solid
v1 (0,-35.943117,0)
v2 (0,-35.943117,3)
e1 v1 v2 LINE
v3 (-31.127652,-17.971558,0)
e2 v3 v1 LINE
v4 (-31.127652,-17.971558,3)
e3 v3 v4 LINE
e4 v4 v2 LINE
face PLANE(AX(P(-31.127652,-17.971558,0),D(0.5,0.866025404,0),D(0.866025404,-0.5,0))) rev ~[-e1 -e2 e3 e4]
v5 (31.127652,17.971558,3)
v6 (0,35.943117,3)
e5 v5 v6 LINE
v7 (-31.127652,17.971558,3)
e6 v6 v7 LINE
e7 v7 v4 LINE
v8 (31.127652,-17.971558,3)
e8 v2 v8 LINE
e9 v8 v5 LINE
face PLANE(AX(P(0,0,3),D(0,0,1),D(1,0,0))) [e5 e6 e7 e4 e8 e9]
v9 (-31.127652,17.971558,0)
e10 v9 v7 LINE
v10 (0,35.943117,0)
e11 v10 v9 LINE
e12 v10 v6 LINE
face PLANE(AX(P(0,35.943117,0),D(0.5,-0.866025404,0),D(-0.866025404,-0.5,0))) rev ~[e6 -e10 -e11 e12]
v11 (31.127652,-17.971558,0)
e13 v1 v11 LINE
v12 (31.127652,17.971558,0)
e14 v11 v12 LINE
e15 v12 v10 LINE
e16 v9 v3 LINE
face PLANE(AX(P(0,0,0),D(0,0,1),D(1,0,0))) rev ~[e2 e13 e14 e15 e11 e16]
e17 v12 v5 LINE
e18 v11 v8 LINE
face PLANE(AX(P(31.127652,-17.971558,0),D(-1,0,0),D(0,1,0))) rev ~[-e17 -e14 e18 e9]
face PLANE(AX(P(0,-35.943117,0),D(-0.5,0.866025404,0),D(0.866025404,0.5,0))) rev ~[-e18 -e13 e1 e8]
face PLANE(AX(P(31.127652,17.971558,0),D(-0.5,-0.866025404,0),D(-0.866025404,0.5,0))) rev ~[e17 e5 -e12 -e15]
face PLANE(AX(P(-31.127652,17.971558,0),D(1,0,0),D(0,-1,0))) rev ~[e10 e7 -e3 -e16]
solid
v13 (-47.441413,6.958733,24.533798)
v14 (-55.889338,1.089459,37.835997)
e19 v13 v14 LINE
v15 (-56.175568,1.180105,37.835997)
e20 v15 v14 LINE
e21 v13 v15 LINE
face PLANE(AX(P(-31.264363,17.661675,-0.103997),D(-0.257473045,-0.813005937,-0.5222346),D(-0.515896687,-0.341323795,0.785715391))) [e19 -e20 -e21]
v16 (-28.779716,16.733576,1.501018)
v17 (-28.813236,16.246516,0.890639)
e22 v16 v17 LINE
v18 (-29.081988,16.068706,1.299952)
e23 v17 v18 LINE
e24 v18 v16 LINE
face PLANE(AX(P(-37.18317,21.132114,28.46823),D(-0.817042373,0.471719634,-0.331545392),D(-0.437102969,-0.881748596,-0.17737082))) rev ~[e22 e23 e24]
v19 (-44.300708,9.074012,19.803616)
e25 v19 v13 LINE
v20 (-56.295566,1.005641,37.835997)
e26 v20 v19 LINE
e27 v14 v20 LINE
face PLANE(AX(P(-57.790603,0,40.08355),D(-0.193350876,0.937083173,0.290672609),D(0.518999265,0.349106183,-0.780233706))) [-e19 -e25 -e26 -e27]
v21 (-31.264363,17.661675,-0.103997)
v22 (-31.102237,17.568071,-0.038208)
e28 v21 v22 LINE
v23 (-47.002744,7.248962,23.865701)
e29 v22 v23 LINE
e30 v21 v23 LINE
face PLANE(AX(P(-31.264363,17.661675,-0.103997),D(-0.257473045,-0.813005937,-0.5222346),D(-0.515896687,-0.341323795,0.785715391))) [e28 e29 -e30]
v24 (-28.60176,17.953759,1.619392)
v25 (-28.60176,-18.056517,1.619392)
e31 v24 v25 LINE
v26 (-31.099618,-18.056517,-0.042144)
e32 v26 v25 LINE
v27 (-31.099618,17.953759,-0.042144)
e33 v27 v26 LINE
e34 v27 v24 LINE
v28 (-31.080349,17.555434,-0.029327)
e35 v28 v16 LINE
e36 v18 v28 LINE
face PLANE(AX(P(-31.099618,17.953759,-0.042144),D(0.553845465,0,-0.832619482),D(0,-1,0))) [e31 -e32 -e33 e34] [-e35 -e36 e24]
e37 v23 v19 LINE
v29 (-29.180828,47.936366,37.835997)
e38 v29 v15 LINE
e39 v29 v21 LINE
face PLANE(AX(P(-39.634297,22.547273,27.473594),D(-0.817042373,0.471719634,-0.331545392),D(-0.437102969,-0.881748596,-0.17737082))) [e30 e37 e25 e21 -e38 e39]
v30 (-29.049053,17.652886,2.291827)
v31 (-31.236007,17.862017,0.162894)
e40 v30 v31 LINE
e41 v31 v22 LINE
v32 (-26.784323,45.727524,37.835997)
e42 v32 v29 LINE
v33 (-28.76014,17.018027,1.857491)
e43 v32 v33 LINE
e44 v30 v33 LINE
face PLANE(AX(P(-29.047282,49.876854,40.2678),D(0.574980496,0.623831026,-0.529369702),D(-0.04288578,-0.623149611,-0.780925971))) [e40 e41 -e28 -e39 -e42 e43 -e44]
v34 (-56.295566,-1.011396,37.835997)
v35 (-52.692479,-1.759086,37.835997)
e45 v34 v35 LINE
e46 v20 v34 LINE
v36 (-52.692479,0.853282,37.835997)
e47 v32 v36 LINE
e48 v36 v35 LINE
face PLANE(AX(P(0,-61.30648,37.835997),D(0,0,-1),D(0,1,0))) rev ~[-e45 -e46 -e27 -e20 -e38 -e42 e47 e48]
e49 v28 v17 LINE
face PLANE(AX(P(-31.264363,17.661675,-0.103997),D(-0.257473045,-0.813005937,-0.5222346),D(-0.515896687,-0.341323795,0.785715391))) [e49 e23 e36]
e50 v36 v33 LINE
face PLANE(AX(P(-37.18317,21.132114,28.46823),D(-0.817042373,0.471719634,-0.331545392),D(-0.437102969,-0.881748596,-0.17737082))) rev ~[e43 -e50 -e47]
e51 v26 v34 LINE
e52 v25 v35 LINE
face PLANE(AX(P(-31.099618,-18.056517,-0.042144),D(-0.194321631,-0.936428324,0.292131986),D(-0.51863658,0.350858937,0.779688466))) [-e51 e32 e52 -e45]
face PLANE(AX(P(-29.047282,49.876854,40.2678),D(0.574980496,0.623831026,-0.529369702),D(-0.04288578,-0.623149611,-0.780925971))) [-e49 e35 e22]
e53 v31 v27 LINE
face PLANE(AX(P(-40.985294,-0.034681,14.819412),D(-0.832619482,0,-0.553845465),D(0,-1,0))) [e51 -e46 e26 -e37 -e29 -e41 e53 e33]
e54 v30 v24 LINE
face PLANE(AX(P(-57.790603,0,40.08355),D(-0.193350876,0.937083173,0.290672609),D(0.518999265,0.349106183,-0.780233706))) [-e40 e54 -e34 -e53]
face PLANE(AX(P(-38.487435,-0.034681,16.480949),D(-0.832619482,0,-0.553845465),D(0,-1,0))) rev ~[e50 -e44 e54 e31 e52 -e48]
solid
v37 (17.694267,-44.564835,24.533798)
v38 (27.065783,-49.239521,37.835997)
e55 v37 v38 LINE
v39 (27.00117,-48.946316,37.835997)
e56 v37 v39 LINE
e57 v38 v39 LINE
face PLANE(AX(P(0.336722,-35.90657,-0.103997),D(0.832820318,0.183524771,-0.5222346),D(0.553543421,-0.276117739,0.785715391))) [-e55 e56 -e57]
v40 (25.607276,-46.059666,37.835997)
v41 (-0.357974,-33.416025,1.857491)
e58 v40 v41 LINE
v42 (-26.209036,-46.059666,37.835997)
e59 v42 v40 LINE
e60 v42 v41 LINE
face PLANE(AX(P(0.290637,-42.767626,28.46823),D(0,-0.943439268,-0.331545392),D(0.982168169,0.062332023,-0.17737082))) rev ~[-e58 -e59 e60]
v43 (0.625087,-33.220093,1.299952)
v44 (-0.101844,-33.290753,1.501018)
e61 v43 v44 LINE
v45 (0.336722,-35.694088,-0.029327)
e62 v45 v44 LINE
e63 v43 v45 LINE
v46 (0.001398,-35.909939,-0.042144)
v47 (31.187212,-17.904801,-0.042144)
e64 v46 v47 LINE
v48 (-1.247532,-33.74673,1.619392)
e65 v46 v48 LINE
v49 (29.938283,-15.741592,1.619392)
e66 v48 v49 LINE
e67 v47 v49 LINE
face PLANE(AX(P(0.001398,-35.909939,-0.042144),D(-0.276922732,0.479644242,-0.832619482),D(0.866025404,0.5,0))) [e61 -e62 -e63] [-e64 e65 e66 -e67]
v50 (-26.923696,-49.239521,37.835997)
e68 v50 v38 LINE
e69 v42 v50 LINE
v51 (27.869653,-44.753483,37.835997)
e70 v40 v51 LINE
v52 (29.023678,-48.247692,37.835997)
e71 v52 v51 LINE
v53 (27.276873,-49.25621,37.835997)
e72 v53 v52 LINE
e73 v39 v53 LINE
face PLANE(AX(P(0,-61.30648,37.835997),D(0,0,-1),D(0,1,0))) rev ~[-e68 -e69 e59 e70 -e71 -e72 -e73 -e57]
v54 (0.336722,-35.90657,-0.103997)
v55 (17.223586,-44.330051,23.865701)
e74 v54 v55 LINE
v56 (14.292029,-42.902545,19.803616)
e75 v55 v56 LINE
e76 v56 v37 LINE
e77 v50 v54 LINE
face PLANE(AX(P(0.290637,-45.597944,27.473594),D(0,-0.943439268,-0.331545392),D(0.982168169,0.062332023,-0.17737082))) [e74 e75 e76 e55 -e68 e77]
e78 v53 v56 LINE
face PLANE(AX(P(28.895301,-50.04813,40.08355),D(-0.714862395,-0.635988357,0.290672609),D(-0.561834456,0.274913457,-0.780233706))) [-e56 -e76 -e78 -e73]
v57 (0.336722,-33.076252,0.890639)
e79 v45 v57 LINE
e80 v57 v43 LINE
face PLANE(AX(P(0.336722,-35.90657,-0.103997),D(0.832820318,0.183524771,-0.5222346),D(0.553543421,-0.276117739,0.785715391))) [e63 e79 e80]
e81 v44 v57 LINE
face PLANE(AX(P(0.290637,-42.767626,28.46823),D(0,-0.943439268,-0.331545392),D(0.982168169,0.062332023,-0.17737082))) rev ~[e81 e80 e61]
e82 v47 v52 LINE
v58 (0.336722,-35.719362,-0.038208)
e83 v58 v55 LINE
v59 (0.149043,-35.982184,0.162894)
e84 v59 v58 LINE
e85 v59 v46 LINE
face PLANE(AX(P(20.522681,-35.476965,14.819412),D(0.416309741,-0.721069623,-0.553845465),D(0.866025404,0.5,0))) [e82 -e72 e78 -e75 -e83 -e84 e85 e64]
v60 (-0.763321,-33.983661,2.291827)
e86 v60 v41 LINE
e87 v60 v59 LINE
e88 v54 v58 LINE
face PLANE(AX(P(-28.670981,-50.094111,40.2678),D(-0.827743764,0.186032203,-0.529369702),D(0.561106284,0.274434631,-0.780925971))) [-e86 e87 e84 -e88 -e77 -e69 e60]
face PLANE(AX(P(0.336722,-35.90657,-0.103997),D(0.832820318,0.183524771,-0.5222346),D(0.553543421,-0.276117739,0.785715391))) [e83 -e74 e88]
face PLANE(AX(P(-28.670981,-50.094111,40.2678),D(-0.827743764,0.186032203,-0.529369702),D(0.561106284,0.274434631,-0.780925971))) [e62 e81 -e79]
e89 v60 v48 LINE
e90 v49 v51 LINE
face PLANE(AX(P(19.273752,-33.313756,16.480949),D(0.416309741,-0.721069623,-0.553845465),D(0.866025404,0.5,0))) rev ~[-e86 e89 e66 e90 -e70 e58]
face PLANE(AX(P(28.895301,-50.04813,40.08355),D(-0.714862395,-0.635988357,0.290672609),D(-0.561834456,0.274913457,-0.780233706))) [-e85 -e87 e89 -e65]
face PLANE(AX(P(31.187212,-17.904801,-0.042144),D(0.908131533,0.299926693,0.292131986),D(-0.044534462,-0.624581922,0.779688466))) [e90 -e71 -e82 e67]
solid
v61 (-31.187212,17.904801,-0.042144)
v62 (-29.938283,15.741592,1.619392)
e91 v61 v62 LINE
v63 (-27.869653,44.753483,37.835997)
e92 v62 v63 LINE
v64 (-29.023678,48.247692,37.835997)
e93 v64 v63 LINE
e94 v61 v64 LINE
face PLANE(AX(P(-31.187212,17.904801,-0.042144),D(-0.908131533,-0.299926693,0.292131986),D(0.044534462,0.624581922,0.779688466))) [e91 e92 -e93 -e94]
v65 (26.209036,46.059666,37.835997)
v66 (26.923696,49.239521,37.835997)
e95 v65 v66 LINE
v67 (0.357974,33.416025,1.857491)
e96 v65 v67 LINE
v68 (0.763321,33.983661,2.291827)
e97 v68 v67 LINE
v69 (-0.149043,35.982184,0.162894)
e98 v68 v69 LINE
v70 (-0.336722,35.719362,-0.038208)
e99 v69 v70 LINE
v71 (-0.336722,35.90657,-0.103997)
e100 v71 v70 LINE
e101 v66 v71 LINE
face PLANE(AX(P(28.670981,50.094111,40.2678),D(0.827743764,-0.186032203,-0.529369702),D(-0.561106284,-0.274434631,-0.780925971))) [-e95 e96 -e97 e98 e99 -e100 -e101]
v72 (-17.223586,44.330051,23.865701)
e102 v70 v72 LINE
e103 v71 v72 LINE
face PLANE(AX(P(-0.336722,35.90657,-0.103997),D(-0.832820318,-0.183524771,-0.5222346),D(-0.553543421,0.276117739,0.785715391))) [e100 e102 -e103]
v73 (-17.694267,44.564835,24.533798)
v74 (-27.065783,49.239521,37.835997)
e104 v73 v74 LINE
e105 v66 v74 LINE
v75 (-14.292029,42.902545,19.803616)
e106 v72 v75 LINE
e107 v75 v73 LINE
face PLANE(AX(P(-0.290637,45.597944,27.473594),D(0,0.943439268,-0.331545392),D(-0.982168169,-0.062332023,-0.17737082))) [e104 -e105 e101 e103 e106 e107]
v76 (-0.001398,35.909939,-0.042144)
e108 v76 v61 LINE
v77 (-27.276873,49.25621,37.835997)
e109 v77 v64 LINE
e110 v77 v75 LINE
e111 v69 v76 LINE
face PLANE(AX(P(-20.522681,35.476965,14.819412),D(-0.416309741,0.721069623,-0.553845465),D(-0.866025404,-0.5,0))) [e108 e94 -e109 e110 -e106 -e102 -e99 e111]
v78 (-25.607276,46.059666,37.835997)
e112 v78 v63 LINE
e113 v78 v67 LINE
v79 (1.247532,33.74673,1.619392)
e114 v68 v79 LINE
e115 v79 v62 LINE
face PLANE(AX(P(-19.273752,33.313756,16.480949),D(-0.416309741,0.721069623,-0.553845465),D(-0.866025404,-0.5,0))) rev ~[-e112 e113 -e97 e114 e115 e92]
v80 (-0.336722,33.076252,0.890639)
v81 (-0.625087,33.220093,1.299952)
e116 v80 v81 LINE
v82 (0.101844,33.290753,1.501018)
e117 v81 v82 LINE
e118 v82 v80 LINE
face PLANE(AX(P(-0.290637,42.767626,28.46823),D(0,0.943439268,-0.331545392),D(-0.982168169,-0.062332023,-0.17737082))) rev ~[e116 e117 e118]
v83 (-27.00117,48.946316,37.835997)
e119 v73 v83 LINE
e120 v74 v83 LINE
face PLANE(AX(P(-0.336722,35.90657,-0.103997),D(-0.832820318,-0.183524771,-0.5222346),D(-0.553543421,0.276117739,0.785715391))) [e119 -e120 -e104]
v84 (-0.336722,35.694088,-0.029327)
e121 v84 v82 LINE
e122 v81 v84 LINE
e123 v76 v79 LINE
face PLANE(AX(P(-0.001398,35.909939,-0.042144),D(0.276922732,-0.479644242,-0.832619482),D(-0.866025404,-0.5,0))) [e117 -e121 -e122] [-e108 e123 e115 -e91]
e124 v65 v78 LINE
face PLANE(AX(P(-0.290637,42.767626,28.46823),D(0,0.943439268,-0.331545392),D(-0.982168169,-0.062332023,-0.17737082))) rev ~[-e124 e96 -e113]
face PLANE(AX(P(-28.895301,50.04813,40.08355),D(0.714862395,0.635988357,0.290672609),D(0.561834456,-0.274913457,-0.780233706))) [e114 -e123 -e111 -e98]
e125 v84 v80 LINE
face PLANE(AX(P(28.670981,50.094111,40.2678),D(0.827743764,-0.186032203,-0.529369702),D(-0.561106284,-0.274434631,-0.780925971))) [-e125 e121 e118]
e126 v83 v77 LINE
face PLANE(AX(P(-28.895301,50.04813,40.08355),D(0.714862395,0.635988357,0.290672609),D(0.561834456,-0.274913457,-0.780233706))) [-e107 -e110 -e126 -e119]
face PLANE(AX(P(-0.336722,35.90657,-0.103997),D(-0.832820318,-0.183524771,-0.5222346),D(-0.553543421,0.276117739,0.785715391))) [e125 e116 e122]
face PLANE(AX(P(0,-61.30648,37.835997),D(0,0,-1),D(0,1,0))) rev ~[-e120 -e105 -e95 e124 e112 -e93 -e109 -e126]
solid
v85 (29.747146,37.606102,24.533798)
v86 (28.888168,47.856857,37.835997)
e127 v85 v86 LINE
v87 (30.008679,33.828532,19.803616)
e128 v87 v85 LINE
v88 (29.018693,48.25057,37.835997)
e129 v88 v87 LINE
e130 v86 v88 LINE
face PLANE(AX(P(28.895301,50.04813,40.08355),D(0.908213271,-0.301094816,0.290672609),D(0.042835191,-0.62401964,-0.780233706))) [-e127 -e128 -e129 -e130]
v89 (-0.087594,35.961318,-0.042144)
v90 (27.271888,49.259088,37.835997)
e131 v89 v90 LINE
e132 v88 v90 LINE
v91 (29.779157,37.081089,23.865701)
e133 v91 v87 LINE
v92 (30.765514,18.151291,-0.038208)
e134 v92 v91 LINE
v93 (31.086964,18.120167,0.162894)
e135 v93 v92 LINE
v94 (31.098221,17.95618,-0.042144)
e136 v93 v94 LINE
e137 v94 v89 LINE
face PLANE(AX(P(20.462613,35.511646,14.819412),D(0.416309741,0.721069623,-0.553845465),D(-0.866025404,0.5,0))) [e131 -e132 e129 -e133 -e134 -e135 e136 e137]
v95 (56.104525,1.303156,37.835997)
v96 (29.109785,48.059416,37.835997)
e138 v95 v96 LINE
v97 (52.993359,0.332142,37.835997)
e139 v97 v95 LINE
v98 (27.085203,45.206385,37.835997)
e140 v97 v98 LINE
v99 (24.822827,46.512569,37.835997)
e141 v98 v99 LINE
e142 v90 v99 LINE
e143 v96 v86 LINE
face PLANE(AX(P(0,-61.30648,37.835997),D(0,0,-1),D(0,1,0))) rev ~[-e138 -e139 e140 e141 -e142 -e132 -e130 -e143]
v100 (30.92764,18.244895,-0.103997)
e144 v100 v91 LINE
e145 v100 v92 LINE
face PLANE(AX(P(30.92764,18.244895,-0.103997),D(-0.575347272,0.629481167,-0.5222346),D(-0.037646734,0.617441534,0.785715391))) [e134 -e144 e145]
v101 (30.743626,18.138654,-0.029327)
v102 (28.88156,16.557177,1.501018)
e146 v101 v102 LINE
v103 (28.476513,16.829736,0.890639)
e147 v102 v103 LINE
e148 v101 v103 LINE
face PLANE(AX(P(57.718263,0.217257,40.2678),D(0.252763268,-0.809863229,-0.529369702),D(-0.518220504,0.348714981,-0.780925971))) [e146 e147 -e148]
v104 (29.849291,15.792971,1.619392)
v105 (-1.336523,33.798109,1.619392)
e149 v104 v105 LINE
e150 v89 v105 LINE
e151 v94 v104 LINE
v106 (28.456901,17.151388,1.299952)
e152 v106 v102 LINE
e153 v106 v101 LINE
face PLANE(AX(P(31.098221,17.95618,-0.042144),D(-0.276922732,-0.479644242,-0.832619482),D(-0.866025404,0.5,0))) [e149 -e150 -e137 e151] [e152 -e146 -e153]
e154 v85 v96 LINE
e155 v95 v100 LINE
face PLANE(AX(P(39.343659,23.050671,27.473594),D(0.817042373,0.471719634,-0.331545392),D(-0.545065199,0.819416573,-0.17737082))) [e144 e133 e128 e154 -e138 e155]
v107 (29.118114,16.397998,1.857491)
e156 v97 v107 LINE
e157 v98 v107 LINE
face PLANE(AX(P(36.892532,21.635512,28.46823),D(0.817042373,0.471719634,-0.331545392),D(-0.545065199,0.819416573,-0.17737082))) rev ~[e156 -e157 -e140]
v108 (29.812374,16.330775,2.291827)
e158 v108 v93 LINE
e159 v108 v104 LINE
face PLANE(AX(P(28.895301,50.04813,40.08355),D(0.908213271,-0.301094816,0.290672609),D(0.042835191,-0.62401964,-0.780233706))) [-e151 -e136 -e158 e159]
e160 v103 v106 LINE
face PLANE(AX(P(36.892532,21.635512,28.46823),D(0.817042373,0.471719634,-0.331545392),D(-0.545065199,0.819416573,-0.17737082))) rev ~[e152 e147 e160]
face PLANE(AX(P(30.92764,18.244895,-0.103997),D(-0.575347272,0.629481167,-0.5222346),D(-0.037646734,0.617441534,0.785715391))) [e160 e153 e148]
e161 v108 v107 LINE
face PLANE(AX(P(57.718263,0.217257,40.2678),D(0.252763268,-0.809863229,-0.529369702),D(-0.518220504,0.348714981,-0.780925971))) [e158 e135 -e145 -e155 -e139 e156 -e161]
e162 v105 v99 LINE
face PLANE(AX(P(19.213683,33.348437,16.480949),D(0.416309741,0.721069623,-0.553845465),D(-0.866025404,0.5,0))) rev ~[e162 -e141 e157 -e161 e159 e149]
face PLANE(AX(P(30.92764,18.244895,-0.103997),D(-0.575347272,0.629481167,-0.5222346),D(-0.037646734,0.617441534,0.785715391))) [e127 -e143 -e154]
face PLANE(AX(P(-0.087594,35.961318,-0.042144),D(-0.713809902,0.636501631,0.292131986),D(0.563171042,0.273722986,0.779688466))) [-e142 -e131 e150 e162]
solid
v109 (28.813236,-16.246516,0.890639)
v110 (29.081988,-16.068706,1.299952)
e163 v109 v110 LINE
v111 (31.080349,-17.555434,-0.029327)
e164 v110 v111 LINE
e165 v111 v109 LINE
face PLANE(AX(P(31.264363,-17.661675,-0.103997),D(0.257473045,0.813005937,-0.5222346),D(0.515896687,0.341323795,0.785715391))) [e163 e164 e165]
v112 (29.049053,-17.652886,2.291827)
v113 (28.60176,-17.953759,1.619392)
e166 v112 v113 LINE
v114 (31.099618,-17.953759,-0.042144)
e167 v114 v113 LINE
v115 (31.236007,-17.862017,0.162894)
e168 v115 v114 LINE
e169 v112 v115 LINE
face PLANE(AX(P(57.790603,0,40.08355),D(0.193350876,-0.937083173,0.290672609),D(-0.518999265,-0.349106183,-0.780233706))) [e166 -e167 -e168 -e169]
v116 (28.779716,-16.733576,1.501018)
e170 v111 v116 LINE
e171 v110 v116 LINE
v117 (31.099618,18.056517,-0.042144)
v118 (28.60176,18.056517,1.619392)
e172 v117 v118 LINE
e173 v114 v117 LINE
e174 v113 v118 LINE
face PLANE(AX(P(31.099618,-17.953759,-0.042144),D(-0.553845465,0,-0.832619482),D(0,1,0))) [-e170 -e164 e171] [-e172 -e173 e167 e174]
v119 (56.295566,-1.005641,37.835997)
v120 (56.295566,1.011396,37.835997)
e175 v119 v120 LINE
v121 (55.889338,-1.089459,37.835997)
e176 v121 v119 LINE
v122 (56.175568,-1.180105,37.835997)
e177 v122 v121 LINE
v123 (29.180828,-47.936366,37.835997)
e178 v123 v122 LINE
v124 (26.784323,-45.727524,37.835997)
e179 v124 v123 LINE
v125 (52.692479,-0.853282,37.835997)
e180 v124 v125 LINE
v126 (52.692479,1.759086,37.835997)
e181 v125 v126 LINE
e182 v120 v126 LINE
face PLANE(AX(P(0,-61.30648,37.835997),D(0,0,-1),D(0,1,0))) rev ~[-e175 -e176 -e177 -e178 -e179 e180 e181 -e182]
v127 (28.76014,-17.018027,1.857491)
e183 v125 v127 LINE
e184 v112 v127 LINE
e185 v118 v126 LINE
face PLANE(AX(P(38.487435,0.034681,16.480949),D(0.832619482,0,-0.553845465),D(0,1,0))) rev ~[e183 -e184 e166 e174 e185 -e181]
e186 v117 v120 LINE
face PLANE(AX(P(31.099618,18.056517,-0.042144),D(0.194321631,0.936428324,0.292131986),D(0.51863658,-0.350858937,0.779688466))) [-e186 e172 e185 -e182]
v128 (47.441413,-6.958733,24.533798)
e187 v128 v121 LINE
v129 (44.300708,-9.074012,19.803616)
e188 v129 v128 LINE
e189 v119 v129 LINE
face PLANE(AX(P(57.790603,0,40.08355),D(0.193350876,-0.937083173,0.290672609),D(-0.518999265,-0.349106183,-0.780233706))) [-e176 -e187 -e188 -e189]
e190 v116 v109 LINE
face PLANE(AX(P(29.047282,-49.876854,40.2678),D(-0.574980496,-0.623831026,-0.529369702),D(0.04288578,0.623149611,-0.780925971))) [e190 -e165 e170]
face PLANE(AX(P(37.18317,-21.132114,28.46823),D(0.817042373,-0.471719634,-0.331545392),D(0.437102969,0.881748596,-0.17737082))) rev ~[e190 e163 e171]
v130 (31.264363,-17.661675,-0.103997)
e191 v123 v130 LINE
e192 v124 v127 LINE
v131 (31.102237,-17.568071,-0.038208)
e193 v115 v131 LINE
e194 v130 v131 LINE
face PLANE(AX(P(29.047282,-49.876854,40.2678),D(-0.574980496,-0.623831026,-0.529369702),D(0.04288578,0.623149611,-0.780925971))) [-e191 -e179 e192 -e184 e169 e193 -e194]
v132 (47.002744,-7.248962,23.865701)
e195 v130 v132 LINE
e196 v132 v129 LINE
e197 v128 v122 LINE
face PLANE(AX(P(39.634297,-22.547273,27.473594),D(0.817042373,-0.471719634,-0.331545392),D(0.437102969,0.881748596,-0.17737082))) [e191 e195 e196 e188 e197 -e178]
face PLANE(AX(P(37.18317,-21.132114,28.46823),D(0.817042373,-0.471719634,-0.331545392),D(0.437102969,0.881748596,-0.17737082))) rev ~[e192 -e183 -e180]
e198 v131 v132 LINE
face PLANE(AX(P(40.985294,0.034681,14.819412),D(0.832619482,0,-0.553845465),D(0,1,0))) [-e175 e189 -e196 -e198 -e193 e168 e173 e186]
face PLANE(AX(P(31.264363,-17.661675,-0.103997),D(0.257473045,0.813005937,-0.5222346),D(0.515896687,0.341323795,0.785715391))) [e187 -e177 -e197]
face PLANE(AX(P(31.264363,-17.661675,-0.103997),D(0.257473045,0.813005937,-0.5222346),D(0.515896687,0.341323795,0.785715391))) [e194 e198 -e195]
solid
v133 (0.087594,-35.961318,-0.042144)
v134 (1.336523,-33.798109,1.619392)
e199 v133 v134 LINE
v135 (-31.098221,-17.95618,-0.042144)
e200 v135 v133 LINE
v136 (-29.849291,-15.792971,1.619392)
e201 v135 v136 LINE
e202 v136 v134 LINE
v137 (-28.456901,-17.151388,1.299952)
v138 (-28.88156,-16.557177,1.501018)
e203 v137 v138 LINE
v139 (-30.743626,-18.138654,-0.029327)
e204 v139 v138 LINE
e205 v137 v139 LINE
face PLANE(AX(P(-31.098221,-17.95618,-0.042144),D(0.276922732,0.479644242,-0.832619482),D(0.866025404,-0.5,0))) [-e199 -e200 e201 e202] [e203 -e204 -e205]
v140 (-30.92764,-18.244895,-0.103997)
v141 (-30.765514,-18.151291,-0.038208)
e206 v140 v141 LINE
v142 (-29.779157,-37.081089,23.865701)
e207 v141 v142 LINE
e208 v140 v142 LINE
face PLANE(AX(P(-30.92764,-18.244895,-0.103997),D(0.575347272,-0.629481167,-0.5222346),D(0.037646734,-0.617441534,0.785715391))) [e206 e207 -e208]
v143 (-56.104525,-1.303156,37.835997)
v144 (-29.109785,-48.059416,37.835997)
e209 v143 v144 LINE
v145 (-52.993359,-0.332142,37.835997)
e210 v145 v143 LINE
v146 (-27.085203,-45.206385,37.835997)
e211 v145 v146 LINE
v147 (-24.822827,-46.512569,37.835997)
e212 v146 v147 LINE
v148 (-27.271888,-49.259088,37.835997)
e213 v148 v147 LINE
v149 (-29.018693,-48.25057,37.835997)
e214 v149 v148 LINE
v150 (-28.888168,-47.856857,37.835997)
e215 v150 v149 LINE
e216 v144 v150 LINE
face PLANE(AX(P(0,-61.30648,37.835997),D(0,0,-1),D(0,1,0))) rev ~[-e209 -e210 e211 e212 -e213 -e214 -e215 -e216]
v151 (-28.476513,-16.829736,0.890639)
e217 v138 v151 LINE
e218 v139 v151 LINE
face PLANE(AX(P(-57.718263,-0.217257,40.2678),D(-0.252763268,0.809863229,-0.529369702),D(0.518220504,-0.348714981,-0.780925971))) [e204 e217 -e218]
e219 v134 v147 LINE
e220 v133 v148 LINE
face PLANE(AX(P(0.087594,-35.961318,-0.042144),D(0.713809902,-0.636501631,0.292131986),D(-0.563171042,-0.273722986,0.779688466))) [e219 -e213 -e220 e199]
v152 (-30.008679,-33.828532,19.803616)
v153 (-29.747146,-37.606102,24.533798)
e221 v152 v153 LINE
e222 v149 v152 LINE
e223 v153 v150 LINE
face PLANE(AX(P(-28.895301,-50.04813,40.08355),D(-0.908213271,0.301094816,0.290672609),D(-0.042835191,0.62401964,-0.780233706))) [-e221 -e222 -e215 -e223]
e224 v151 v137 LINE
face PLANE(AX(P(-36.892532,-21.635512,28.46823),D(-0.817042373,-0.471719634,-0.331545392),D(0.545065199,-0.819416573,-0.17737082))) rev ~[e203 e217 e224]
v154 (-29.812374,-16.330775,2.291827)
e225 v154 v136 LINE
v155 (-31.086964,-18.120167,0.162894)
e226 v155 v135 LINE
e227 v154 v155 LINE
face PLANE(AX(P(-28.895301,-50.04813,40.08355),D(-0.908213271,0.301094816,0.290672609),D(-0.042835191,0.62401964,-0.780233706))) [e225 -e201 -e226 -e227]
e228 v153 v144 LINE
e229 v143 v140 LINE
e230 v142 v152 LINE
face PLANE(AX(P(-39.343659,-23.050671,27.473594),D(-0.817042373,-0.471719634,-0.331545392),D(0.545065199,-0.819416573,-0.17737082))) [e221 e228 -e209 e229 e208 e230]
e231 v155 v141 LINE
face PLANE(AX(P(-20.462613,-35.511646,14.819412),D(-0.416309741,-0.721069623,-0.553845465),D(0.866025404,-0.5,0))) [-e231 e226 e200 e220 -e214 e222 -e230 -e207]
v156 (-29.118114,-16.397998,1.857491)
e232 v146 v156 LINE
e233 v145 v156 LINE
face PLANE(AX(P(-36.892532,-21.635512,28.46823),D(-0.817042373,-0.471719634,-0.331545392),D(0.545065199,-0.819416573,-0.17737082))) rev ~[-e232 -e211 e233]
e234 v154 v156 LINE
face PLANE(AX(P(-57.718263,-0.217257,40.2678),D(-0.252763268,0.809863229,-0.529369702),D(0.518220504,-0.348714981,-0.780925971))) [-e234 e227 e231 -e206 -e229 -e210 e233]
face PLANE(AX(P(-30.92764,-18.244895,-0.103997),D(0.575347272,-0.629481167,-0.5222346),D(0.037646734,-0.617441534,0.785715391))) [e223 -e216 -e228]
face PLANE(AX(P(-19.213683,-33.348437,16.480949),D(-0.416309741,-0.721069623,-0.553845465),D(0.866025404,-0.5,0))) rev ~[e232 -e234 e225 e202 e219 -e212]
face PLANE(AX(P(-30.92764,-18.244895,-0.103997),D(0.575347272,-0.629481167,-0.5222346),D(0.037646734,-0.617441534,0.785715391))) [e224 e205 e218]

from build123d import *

# Parameters (mm, degrees)
F6_DEPTH  = 3
F9_DEPTH  = 3
F10_COUNT = 6
F11_DEPTH = 3
F12_W     = 117.9919689894
F12_H     = 11.6260461509
F13_DEPTH = 60


with BuildPart() as f6:
    # F5 (on 3pt) → F6 (new body)
    with BuildSketch(Plane(origin=(21.5794067589, 0, -14.3542840713), x_dir=(0, 1, 0), z_dir=(0.8326194817, 0, -0.5538454647))):
        Polygon((18.0565174669, 17.1892922372), (0, 65.3814077377), (-17.9537590593, 17.1892922372), align=None)
    extrude(amount=-F6_DEPTH)

    # F8 (on 3pt) → F9 (join)
    with BuildSketch(Plane(origin=(27.7060275662, -15.9960824735, -11.2427532294), x_dir=(0.4371029691, 0.8817485961, -0.1773708196), z_dir=(0.8170423732, -0.4717196341, -0.3315453923))):
        Polygon((18.2439256459, 59.6142485738), (-38.4245254099, 48.2348278165), (-1.8889650237, 11.6593157873), align=None)
    extrude(amount=-F9_DEPTH)


with BuildPart() as f10_1:
    # F10: instance of F6
    add(f6.part.rotate(Axis((0, 0, 21.5341579169), (0, 0, 1)), 1 * 360 / F10_COUNT))


with BuildPart() as f10_2:
    # F10: instance of F6
    add(f6.part.rotate(Axis((0, 0, 21.5341579169), (0, 0, 1)), 2 * 360 / F10_COUNT))


with BuildPart() as f10_3:
    # F10: instance of F6
    add(f6.part.rotate(Axis((0, 0, 21.5341579169), (0, 0, 1)), 3 * 360 / F10_COUNT))


with BuildPart() as f10_4:
    # F10: instance of F6
    add(f6.part.rotate(Axis((0, 0, 21.5341579169), (0, 0, 1)), 4 * 360 / F10_COUNT))


with BuildPart() as f10_5:
    # F10: instance of F6
    add(f6.part.rotate(Axis((0, 0, 21.5341579169), (0, 0, 1)), 5 * 360 / F10_COUNT))


with BuildPart() as f11:
    # F2 (on Top) → F11 (new body)
    with BuildSketch(Plane.XY):
        Polygon((31.1276521534, -17.97155835), (31.1276521534, 17.97155835), (0, 35.9431167), (-31.1276521534, 17.97155835), (-31.1276521534, -17.97155835), (0, -35.9431167), align=None)
    extrude(amount=F11_DEPTH)


with BuildPart() as f13_tool:
    # F12 (on Right) → F13 (new body, symmetric)
    with BuildSketch(Plane.YZ):
        with Locations((-2.3104958236, 43.6490196735)):
            Rectangle(F12_W, F12_H)
    extrude(amount=F13_DEPTH, both=True)


with BuildPart() as f6_1:
    add(f6.part)

    # F13: cut by f13_tool
    add(f13_tool.part, mode=Mode.SUBTRACT)


with BuildPart() as f10_1_1:
    add(f10_1.part)

    # F13: cut by f13_tool
    add(f13_tool.part, mode=Mode.SUBTRACT)


with BuildPart() as f10_2_1:
    add(f10_2.part)

    # F13: cut by f13_tool
    add(f13_tool.part, mode=Mode.SUBTRACT)


with BuildPart() as f10_3_1:
    add(f10_3.part)

    # F13: cut by f13_tool
    add(f13_tool.part, mode=Mode.SUBTRACT)


with BuildPart() as f10_4_1:
    add(f10_4.part)

    # F13: cut by f13_tool
    add(f13_tool.part, mode=Mode.SUBTRACT)


with BuildPart() as f10_5_1:
    add(f10_5.part)

    # F13: cut by f13_tool
    add(f13_tool.part, mode=Mode.SUBTRACT)


solid = Compound([f11.part, f6_1.part, f10_1_1.part, f10_2_1.part, f10_3_1.part, f10_4_1.part, f10_5_1.part])
